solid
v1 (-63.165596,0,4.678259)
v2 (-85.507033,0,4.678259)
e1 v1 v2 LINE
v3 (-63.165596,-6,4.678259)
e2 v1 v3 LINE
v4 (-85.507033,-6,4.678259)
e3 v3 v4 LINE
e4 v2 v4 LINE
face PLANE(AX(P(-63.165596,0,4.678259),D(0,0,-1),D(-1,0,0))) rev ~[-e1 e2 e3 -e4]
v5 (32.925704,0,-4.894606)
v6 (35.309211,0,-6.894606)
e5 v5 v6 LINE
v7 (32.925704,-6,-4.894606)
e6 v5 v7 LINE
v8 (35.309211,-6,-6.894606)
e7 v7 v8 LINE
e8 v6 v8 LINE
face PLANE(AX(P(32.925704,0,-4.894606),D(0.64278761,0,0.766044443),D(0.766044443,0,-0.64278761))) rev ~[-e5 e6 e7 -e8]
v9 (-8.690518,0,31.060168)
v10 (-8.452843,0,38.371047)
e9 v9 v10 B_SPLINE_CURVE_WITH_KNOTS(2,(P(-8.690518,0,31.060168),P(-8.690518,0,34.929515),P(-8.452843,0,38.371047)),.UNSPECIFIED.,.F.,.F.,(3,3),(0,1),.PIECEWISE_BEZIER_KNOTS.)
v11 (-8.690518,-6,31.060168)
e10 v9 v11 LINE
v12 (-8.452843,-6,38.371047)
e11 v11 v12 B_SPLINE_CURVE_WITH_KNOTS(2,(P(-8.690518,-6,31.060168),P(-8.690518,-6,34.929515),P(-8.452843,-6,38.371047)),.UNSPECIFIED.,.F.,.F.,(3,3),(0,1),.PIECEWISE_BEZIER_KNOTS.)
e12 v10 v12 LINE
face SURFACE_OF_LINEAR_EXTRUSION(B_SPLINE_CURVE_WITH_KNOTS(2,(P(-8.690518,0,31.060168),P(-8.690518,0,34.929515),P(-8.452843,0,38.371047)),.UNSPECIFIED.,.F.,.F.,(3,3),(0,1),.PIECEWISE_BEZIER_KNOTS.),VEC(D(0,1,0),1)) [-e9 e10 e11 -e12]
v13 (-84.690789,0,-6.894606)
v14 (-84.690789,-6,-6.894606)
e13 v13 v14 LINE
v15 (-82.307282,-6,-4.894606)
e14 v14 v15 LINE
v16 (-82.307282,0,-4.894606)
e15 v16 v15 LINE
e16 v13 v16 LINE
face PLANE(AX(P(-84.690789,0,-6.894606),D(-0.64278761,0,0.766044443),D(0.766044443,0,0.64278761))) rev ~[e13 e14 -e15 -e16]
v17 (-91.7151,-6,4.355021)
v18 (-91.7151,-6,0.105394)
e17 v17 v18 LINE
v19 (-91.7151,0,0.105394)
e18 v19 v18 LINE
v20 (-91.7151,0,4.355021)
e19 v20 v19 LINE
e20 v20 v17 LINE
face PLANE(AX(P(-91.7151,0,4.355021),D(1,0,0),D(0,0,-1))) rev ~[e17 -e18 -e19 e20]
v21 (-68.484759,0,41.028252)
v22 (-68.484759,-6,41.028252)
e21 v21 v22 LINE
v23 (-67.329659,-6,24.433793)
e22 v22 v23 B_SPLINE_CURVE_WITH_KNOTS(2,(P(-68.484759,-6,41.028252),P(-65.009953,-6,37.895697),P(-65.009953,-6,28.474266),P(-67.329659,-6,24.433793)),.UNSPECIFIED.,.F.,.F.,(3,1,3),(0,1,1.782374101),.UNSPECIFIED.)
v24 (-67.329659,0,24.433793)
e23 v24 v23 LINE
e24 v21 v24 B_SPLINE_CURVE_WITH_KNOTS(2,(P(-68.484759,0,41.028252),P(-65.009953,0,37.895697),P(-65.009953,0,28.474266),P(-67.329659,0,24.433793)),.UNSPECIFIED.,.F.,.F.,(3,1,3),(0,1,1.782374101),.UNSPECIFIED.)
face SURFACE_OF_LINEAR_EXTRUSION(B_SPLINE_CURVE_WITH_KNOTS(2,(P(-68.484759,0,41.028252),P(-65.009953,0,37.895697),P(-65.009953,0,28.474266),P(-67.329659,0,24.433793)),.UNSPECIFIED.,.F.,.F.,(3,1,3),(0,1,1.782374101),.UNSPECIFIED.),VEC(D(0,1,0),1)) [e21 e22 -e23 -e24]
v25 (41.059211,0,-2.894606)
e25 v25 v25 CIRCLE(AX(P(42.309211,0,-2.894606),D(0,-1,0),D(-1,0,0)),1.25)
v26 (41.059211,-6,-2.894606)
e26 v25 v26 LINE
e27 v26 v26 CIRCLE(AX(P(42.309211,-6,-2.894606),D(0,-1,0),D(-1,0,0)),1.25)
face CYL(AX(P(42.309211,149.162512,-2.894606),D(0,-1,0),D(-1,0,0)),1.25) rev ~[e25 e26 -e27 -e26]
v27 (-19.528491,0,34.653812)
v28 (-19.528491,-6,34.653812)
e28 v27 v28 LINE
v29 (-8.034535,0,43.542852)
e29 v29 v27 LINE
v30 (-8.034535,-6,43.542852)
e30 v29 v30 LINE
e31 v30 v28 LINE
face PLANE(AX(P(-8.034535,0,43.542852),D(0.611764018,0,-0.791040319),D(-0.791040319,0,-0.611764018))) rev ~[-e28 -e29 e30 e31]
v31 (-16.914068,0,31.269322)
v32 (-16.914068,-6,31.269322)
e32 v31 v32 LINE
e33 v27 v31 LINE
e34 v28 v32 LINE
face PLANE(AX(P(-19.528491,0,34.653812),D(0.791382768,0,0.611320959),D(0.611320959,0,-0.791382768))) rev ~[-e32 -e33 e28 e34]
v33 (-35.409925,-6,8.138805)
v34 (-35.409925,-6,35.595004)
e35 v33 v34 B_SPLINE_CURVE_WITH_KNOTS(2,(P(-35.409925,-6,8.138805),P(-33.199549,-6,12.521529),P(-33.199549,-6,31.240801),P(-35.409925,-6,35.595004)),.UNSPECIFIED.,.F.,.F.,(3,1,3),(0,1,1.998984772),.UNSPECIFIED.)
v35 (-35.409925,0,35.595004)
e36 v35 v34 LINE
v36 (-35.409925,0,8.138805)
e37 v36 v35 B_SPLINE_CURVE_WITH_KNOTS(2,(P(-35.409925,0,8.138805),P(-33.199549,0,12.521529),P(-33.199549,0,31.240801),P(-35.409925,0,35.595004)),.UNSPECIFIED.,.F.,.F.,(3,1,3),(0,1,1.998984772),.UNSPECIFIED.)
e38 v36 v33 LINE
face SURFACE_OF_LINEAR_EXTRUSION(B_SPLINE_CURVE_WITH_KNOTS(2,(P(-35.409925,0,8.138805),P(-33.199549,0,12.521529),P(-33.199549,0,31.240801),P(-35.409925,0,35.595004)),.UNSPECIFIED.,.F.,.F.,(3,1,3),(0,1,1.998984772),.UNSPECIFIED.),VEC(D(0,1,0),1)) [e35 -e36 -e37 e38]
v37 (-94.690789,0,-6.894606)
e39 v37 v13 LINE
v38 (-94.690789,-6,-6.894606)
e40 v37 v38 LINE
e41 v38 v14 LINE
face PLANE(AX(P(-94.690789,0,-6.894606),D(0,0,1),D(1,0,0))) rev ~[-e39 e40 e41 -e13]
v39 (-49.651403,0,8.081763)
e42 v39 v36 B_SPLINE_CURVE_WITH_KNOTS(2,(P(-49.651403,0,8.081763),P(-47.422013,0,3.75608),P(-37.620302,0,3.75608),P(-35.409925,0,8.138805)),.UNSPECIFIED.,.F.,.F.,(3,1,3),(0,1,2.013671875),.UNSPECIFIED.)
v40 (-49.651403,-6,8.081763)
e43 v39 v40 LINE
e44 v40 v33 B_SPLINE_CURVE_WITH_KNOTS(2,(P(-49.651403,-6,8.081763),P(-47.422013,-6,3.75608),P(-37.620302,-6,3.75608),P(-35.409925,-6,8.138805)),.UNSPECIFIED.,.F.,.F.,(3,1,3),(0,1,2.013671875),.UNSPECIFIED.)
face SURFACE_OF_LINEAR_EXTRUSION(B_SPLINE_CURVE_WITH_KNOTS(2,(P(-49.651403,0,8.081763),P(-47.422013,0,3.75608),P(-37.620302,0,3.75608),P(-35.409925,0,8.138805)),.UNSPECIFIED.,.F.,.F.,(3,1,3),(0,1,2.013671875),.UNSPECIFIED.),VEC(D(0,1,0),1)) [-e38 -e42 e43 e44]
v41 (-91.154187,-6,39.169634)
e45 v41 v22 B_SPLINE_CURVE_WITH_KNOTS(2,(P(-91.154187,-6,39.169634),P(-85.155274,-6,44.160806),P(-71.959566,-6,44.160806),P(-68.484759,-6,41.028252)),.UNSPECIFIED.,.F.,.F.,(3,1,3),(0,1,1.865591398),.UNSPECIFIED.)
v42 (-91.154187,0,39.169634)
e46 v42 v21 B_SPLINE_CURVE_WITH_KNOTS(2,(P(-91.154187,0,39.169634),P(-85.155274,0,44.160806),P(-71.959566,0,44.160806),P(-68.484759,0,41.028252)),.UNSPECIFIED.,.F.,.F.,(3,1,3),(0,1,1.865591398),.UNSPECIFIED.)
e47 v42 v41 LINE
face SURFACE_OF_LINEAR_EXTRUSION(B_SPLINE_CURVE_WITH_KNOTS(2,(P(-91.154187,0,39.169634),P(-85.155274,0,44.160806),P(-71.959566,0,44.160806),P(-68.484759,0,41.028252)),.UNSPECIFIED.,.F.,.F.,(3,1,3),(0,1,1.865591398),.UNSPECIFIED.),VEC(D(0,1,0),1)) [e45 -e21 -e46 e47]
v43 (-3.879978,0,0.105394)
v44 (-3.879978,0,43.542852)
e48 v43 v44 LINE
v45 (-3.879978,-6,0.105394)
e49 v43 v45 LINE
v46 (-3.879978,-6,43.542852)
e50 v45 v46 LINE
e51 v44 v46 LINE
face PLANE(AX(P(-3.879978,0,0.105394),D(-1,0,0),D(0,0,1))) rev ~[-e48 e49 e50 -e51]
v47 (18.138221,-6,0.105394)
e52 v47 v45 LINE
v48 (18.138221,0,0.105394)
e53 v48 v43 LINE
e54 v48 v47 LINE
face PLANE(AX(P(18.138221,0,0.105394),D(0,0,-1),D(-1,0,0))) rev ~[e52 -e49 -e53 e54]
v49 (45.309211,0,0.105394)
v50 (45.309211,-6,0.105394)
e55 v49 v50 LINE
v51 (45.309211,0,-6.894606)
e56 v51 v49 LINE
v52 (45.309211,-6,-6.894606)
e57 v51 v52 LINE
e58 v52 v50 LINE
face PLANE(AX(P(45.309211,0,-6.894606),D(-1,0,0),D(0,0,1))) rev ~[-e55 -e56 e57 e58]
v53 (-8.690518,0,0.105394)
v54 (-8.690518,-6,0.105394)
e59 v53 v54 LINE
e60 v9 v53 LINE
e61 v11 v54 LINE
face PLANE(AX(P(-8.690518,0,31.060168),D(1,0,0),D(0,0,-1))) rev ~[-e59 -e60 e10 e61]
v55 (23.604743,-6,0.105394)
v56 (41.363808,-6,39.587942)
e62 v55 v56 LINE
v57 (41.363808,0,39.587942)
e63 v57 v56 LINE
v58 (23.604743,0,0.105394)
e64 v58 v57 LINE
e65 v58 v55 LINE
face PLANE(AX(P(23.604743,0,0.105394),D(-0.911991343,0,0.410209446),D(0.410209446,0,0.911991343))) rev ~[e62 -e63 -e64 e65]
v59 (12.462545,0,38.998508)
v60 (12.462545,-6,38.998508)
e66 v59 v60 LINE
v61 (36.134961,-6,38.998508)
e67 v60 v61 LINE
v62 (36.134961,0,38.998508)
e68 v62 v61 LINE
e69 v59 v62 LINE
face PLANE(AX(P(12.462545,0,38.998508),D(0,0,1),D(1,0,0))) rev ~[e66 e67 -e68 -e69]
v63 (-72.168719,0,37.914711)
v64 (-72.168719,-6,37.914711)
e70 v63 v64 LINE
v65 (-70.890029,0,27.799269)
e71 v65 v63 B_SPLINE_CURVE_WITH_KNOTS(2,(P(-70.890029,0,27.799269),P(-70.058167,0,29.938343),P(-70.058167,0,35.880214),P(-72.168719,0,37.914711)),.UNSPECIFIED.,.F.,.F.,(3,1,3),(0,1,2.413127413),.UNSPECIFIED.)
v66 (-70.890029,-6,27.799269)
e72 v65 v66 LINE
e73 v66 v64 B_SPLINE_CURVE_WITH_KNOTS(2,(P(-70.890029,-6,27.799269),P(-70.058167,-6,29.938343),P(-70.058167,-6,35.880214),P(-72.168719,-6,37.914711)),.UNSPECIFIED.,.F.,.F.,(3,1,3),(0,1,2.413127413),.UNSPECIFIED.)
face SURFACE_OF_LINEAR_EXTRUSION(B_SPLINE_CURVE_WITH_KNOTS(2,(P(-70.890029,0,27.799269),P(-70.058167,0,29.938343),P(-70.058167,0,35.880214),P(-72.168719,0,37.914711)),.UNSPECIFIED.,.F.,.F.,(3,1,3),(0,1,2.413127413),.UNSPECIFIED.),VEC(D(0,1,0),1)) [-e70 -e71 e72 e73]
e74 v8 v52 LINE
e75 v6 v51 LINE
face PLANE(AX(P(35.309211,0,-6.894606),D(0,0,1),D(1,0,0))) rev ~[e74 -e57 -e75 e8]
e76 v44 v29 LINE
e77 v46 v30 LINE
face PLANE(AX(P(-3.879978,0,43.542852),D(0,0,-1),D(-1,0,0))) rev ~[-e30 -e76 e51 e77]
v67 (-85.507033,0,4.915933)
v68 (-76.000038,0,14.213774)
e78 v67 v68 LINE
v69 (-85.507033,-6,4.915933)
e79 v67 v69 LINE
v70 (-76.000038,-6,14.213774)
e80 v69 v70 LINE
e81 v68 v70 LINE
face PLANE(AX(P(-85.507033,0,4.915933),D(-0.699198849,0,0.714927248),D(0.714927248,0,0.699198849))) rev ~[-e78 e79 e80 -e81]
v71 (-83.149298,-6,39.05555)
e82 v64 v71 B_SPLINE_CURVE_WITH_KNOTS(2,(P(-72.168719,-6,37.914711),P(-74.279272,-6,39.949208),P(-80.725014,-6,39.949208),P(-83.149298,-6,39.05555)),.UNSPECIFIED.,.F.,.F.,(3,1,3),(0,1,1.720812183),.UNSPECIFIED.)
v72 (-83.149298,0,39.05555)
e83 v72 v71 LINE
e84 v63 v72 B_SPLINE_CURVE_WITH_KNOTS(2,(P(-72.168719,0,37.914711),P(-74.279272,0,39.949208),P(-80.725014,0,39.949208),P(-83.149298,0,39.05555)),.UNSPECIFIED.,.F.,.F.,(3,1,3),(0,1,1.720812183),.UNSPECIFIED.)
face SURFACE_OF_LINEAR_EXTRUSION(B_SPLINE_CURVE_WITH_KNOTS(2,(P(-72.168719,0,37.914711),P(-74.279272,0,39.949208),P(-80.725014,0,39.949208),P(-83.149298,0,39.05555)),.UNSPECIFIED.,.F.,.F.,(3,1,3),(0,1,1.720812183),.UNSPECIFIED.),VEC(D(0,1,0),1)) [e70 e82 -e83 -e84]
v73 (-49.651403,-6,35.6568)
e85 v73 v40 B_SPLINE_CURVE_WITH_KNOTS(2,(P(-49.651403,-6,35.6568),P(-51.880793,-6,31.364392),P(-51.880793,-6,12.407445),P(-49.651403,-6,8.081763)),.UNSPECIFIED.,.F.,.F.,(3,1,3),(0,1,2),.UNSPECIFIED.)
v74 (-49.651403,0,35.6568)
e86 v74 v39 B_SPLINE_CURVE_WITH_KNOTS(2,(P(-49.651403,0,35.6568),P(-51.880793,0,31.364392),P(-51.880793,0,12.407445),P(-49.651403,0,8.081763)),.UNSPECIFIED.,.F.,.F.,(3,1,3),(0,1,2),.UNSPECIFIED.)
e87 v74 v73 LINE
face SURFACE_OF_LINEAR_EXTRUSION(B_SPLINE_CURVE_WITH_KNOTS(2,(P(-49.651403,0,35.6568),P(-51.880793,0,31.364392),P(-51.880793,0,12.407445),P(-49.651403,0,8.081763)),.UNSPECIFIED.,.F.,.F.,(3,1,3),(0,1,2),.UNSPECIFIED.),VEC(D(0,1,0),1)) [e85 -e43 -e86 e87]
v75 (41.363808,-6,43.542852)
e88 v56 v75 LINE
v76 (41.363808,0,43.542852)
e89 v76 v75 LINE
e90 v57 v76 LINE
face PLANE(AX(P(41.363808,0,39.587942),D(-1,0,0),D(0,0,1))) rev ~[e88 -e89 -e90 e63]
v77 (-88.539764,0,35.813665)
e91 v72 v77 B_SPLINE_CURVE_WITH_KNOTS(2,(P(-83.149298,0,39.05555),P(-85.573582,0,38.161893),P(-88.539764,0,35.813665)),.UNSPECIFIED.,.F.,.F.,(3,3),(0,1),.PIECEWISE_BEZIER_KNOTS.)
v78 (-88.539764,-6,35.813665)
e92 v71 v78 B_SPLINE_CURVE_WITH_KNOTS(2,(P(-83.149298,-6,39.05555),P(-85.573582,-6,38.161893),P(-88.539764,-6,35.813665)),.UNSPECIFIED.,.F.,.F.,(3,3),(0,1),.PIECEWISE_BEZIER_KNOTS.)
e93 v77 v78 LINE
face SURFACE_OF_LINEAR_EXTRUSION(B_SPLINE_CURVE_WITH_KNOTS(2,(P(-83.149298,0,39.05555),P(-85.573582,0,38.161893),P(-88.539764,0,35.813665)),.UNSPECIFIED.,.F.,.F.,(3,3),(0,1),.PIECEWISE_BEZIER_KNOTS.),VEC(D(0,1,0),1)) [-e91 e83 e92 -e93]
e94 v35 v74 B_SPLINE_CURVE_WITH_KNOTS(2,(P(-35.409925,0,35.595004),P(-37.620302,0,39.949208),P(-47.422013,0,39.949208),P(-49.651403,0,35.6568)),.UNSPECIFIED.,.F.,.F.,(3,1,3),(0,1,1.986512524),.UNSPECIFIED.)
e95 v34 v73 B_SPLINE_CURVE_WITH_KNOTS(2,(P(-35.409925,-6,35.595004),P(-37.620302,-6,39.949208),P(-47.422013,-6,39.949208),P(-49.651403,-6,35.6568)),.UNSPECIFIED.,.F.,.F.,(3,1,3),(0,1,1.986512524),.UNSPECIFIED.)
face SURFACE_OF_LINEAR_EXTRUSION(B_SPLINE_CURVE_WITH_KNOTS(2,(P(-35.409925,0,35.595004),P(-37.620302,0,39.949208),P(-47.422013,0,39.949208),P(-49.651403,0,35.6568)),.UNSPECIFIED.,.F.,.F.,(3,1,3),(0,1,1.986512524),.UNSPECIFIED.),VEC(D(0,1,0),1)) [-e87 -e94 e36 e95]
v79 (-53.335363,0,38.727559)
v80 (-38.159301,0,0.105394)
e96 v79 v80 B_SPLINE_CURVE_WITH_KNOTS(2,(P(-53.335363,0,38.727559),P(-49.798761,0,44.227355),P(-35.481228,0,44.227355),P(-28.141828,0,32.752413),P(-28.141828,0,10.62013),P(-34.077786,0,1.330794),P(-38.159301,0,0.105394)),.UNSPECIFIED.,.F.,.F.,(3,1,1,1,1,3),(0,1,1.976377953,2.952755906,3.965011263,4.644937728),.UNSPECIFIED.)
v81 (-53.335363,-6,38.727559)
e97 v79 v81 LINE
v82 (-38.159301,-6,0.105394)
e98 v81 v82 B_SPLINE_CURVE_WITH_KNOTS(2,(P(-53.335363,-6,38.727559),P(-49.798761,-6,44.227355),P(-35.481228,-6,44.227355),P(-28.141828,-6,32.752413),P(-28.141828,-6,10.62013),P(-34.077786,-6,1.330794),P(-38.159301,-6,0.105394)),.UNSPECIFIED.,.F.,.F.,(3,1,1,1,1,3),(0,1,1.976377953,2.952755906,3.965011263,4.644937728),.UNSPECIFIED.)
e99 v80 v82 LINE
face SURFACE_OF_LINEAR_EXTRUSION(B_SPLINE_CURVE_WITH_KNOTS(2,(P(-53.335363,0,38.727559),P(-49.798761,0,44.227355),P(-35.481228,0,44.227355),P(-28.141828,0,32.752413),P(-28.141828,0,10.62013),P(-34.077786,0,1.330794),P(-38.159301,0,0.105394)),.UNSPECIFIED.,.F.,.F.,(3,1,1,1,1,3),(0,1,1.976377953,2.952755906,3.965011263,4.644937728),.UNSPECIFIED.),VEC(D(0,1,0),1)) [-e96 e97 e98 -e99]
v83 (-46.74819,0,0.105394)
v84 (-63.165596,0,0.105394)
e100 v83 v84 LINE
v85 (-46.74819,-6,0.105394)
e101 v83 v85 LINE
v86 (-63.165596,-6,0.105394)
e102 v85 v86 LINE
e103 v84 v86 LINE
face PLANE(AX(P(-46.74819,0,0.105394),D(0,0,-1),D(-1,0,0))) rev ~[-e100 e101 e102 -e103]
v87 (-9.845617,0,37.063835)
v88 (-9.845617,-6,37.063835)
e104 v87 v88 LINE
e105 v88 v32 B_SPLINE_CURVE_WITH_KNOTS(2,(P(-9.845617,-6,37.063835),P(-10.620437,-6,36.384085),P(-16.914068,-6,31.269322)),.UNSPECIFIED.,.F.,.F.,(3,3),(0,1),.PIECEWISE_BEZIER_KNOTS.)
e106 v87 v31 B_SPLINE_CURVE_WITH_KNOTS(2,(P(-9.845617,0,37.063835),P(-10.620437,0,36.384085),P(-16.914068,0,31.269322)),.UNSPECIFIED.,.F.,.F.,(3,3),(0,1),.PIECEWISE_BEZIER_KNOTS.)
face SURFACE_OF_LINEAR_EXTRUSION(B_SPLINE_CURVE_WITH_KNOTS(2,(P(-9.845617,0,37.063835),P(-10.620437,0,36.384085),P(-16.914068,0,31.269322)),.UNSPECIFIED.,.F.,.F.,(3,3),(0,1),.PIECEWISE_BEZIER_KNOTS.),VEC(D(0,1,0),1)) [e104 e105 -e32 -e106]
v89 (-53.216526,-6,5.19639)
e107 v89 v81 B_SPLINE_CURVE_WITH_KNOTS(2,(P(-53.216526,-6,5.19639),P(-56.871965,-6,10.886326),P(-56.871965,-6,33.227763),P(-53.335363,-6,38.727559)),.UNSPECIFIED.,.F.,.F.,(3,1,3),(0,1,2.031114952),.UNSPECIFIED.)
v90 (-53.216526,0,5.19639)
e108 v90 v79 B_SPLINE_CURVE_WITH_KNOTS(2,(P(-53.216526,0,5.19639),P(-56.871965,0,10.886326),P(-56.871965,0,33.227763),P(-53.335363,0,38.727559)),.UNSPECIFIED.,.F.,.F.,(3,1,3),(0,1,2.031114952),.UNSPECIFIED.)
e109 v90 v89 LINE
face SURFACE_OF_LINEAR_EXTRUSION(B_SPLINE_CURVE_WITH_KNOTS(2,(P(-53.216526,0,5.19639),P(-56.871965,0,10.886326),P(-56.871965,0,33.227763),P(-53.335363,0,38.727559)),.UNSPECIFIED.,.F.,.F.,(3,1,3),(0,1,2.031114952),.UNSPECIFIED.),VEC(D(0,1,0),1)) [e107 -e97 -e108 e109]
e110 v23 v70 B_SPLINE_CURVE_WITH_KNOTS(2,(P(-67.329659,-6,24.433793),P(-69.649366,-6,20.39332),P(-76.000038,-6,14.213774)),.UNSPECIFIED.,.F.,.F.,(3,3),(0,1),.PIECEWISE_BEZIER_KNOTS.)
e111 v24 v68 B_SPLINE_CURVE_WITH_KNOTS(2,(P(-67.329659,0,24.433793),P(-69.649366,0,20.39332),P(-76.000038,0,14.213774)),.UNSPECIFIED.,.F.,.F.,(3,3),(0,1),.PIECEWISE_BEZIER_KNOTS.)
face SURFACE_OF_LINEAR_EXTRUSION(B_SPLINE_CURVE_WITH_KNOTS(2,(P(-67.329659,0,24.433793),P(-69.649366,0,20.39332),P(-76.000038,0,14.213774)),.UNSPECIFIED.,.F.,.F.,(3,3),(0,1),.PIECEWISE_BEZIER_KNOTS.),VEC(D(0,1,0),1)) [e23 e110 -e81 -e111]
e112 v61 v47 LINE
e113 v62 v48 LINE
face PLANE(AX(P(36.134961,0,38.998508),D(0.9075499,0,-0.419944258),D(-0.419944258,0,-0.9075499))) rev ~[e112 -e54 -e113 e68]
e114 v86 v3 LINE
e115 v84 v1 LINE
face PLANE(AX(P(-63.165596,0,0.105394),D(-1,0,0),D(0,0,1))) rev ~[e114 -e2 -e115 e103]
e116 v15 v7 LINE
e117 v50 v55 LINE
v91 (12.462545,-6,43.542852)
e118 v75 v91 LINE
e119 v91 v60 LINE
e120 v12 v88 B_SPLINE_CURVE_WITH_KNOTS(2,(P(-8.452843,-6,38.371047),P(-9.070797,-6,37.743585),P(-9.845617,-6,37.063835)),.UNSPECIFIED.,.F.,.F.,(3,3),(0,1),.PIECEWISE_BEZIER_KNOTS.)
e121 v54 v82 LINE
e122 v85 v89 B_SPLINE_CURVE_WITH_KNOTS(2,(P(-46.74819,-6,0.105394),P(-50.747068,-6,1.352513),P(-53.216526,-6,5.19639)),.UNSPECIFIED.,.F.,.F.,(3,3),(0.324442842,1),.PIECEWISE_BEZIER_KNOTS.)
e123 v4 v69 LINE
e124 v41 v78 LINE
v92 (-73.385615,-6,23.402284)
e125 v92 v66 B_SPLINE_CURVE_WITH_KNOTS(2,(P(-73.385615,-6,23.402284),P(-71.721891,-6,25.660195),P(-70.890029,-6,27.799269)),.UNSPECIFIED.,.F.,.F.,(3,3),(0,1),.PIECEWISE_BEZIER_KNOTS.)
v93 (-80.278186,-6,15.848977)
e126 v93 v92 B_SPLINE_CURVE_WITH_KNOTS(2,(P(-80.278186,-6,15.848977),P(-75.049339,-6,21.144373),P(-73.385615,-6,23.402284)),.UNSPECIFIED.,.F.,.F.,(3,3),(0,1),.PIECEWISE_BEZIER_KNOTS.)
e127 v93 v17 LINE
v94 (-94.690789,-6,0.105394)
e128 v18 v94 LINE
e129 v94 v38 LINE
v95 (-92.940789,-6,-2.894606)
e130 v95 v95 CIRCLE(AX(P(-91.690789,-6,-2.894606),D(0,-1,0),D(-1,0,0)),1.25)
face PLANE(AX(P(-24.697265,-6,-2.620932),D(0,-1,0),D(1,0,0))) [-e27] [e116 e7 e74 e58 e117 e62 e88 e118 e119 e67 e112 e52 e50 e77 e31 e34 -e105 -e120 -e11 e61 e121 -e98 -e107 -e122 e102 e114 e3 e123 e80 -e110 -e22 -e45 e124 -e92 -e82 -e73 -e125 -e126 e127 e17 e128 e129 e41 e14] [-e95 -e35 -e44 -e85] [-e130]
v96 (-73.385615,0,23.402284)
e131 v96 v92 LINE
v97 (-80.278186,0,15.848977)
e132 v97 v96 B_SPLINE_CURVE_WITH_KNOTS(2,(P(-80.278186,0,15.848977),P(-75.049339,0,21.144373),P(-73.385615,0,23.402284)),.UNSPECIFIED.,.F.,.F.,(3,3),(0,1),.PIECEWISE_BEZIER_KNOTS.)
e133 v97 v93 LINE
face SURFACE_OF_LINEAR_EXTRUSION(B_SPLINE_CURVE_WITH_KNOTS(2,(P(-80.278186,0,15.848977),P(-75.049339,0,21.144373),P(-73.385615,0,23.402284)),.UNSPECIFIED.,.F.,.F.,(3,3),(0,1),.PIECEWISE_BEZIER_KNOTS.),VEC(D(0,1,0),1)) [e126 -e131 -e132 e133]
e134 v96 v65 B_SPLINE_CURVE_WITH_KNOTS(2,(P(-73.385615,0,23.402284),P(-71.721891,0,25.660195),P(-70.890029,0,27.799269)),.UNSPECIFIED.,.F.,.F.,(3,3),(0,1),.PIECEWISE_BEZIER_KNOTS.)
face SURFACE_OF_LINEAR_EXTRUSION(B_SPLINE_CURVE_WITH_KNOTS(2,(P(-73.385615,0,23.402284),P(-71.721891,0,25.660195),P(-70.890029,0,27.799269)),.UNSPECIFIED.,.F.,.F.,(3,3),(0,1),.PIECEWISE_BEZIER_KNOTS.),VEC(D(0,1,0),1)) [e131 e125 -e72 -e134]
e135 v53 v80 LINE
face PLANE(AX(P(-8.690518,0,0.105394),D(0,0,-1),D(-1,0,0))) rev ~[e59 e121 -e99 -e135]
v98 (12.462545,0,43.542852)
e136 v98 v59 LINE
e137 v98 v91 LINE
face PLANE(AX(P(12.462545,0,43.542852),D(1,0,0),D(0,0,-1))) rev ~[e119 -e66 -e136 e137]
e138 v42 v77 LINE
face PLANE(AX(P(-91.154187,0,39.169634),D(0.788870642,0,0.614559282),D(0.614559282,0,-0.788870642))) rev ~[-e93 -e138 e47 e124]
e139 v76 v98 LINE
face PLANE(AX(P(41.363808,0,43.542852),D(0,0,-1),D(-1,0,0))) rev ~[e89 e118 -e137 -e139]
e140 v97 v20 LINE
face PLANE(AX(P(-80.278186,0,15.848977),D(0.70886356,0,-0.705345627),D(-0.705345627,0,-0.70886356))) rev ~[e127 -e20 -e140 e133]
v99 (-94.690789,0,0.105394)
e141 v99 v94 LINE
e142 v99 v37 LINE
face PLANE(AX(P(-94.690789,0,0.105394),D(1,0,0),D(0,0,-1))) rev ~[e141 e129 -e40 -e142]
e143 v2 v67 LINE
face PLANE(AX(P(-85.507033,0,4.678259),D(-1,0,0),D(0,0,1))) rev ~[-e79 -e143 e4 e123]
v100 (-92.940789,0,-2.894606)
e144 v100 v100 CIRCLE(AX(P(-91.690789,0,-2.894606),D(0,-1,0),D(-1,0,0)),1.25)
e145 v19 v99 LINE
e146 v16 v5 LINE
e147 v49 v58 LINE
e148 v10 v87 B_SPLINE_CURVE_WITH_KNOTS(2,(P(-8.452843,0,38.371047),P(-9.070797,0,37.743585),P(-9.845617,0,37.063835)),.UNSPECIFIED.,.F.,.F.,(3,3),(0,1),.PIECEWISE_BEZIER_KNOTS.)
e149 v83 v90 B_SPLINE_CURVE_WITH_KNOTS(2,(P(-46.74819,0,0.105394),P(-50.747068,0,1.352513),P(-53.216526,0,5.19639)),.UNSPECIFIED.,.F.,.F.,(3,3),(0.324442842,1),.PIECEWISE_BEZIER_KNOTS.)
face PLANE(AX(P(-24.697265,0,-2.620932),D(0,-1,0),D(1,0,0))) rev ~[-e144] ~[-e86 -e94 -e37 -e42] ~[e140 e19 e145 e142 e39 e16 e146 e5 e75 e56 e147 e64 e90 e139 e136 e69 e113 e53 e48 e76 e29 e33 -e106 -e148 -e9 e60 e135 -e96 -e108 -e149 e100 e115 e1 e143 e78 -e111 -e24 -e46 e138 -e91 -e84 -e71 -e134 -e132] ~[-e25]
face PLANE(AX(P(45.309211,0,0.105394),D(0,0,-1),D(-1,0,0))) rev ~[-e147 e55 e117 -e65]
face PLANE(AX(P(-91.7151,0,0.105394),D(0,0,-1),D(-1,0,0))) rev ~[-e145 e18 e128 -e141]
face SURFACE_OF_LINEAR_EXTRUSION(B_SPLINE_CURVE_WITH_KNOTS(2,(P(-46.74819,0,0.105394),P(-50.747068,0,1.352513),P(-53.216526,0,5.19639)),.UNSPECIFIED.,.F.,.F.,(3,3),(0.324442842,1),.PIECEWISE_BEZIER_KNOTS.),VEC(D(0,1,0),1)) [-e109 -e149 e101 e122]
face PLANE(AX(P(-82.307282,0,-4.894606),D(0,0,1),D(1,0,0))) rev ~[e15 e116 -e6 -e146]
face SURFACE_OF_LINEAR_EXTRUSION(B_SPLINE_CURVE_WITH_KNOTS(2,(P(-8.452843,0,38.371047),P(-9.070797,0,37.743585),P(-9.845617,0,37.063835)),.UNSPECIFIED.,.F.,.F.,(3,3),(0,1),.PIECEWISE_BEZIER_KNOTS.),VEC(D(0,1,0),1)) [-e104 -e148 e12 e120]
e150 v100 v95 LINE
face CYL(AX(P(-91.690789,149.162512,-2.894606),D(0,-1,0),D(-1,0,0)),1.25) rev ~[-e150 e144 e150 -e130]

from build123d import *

# Parameters (mm, degrees)
F1_DEPTH = 6
F2_D     = 2.5


with BuildPart() as f1:
    # F0 (on Front) → F1 (new body)
    with BuildSketch(Plane.XZ):
        with BuildLine():
            Line((-91.7150999423, 0.1053942247), (-94.6907891994, 0.1053942247))
            Line((-94.6907891994, 0.1053942247), (-94.6907891994, -6.8946057753))
            Line((-94.6907891994, -6.8946057753), (-84.6907891994, -6.8946057753))
            Line((-84.6907891994, -6.8946057753), (-82.3072820142, -4.8946057753))
            Line((-82.3072820142, -4.8946057753), (32.9257036154, -4.8946057753))
            Line((32.9257036154, -4.8946057753), (35.3092108006, -6.8946057753))
            Line((35.3092108006, -6.8946057753), (45.3092108006, -6.8946057753))
            Line((45.3092108006, -6.8946057753), (45.3092108006, 0.1053942247))
            Line((45.3092108006, 0.1053942247), (23.6047425132, 0.1053942247))
            Line((23.6047425132, 0.1053942247), (18.138220715, 0.1053942247))
            Line((18.138220715, 0.1053942247), (-3.8799783886, 0.1053942247))
            Line((-3.8799783886, 0.1053942247), (-8.690517571, 0.1053942247))
            Line((-8.690517571, 0.1053942247), (-38.1593011314, 0.1053942247))
            add(Edge.make_bspline(
                [(-38.1593011314, 0.1053942247), (-40.154230825, -0.4935464245), (-42.5544317364, -0.4935464245)],
                knots=[0.6716946069, 0.6716946069, 0.6716946069, 1, 1, 1], degree=2))
            add(Edge.make_bspline(
                [(-42.5544317364, -0.4935464245), (-44.8276907657, -0.4935464245), (-46.7481902647, 0.1053942247)],
                knots=[0, 0, 0, 0.3244428423, 0.3244428423, 0.3244428423], degree=2))
            Line((-46.7481902647, 0.1053942247), (-63.1655956642, 0.1053942247))
            Line((-63.1655956642, 0.1053942247), (-91.7150999423, 0.1053942247))
        make_face()
        with BuildLine():
            add(Edge.make_bspline(
                [(-46.7481902647, 0.1053942247), (-50.7470677679, 1.3525126379), (-53.2165259915, 5.1963897429)],
                knots=[0.3244428423, 0.3244428423, 0.3244428423, 1, 1, 1], degree=2))
            Line((-46.7481902647, 0.1053942247), (-38.1593011314, 0.1053942247))
            add(Edge.make_bspline(
                [(-31.6926905983, 5.0632918208), (-34.0777857358, 1.33079354), (-38.1593011314, 0.1053942247)],
                knots=[0, 0, 0, 0.6716946069, 0.6716946069, 0.6716946069], degree=2))
            add(Edge.make_bspline(
                [(-28.1418281781, 21.8859184676), (-28.1418281781, 10.6201300661), (-31.6926905983, 5.0632918208)],
                knots=[0, 0, 0, 1, 1, 1], degree=2))
            add(Edge.make_bspline(
                [(-31.8115280287, 38.4898842424), (-28.1418281781, 32.7524131029), (-28.1418281781, 21.8859184676)],
                knots=[0, 0, 0, 1, 1, 1], degree=2))
            add(Edge.make_bspline(
                [(-42.5544317364, 44.2273553819), (-35.4812278793, 44.2273553819), (-31.8115280287, 38.4898842424)],
                knots=[0, 0, 0, 1, 1, 1], degree=2))
            add(Edge.make_bspline(
                [(-53.3353634219, 38.7275591032), (-49.7987614933, 44.2273553819), (-42.5544317364, 44.2273553819)],
                knots=[0, 0, 0, 1, 1, 1], degree=2))
            add(Edge.make_bspline(
                [(-56.8719653504, 21.8859184676), (-56.8719653504, 33.2277628245), (-53.3353634219, 38.7275591032)],
                knots=[0, 0, 0, 1, 1, 1], degree=2))
            add(Edge.make_bspline(
                [(-53.2165259915, 5.1963897429), (-56.8719653504, 10.8863259102), (-56.8719653504, 21.8859184676)],
                knots=[0, 0, 0, 1, 1, 1], degree=2))
        make_face()
        with BuildLine():
            add(Edge.make_bspline(
                [(-51.8807932738, 21.8859184676), (-51.8807932738, 12.4074450192), (-49.6514030796, 8.0817625529)],
                knots=[0, 0, 0, 1, 1, 1], degree=2))
            add(Edge.make_bspline(
                [(-49.6514030796, 35.6567999018), (-51.8807932738, 31.3643919159), (-51.8807932738, 21.8859184676)],
                knots=[0, 0, 0, 1, 1, 1], degree=2))
            add(Edge.make_bspline(
                [(-42.5544317364, 39.9492078876), (-47.4220128854, 39.9492078876), (-49.6514030796, 35.6567999018)],
                knots=[0, 0, 0, 1, 1, 1], degree=2))
            add(Edge.make_bspline(
                [(-35.4099254211, 35.595004438), (-37.6203016264, 39.9492078876), (-42.5544317364, 39.9492078876)],
                knots=[0, 0, 0, 1, 1, 1], degree=2))
            add(Edge.make_bspline(
                [(-33.1995492157, 21.8859184676), (-33.1995492157, 31.2408009883), (-35.4099254211, 35.595004438)],
                knots=[0, 0, 0, 1, 1, 1], degree=2))
            add(Edge.make_bspline(
                [(-35.4099254211, 8.1388045194), (-33.1995492157, 12.5215289524), (-33.1995492157, 21.8859184676)],
                knots=[0, 0, 0, 1, 1, 1], degree=2))
            add(Edge.make_bspline(
                [(-42.5544317364, 3.7560800865), (-37.6203016264, 3.7560800865), (-35.4099254211, 8.1388045194)],
                knots=[0, 0, 0, 1, 1, 1], degree=2))
            add(Edge.make_bspline(
                [(-49.6514030796, 8.0817625529), (-47.4220128854, 3.7560800865), (-42.5544317364, 3.7560800865)],
                knots=[0, 0, 0, 1, 1, 1], degree=2))
        make_face(mode=Mode.SUBTRACT)
        with BuildLine():
            Line((-91.7150999423, 4.3550207357), (-91.7150999423, 0.1053942247))
            Line((-91.7150999423, 0.1053942247), (-63.1655956642, 0.1053942247))
            Line((-63.1655956642, 0.1053942247), (-63.1655956642, 4.6782585463))
            Line((-63.1655956642, 4.6782585463), (-85.5070325785, 4.6782585463))
            Line((-85.5070325785, 4.6782585463), (-85.5070325785, 4.9159334071))
            Line((-85.5070325785, 4.9159334071), (-76.0000381468, 14.2137739612))
            add(Edge.make_bspline(
                [(-67.3296592252, 24.4337929752), (-69.6493658665, 20.3933203418), (-76.0000381468, 14.2137739612)],
                knots=[0, 0, 0, 1, 1, 1], degree=2))
            add(Edge.make_bspline(
                [(-65.0099525839, 32.6098081864), (-65.0099525839, 28.4742656087), (-67.3296592252, 24.4337929752)],
                knots=[0, 0, 0, 1, 1, 1], degree=2))
            add(Edge.make_bspline(
                [(-68.4847590487, 41.0282517556), (-65.0099525839, 37.8956970904), (-65.0099525839, 32.6098081864)],
                knots=[0, 0, 0, 1, 1, 1], degree=2))
            add(Edge.make_bspline(
                [(-78.0820699274, 44.1608064208), (-71.9595655134, 44.1608064208), (-68.4847590487, 41.0282517556)],
                knots=[0, 0, 0, 1, 1, 1], degree=2))
            add(Edge.make_bspline(
                [(-91.1541872708, 39.1696343442), (-85.1552737845, 44.1608064208), (-78.0820699274, 44.1608064208)],
                knots=[0, 0, 0, 1, 1, 1], degree=2))
            Line((-91.1541872708, 39.1696343442), (-88.5397638022, 35.8136653099))
            add(Edge.make_bspline(
                [(-83.1492979594, 39.0555504111), (-85.5735815395, 38.1618929345), (-88.5397638022, 35.8136653099)],
                knots=[0, 0, 0, 1, 1, 1], degree=2))
            add(Edge.make_bspline(
                [(-78.0250279608, 39.9492078876), (-80.7250143794, 39.9492078876), (-83.1492979594, 39.0555504111)],
                knots=[0, 0, 0, 1, 1, 1], degree=2))
            add(Edge.make_bspline(
                [(-72.1687193909, 37.9147110793), (-74.2792721547, 39.9492078876), (-78.0250279608, 39.9492078876)],
                knots=[0, 0, 0, 1, 1, 1], degree=2))
            add(Edge.make_bspline(
                [(-70.0581666271, 32.4006543089), (-70.0581666271, 35.8802142709), (-72.1687193909, 37.9147110793)],
                knots=[0, 0, 0, 1, 1, 1], degree=2))
            add(Edge.make_bspline(
                [(-70.8900286399, 27.799269004), (-70.0581666271, 29.9383427511), (-70.0581666271, 32.4006543089)],
                knots=[0, 0, 0, 1, 1, 1], degree=2))
            add(Edge.make_bspline(
                [(-73.3856146782, 23.4022840794), (-71.7218906526, 25.6601952569), (-70.8900286399, 27.799269004)],
                knots=[0, 0, 0, 1, 1, 1], degree=2))
            add(Edge.make_bspline(
                [(-80.2781856411, 15.8489770035), (-75.0493387037, 21.1443729019), (-73.3856146782, 23.4022840794)],
                knots=[0, 0, 0, 1, 1, 1], degree=2))
            Line((-80.2781856411, 15.8489770035), (-91.7150999423, 4.3550207357))
        make_face()
        with BuildLine():
            Line((-8.690517571, 31.0601680941), (-8.690517571, 0.1053942247))
            Line((-8.690517571, 0.1053942247), (-3.8799783886, 0.1053942247))
            Line((-3.8799783886, 0.1053942247), (-3.8799783886, 43.5428517828))
            Line((-3.8799783886, 43.5428517828), (-8.0345349552, 43.5428517828))
            Line((-8.0345349552, 43.5428517828), (-19.528491223, 34.6538119892))
            Line((-19.528491223, 34.6538119892), (-16.9140677543, 31.2693219716))
            add(Edge.make_bspline(
                [(-9.8456173944, 37.0638350776), (-10.6204374406, 36.3840849758), (-16.9140677543, 31.2693219716)],
                knots=[0, 0, 0, 1, 1, 1], degree=2))
            add(Edge.make_bspline(
                [(-8.4528427102, 38.371046812), (-9.0707973483, 37.7435851795), (-9.8456173944, 37.0638350776)],
                knots=[0, 0, 0, 1, 1, 1], degree=2))
            add(Edge.make_bspline(
                [(-8.690517571, 31.0601680941), (-8.690517571, 34.9295148277), (-8.4528427102, 38.371046812)],
                knots=[0, 0, 0, 1, 1, 1], degree=2))
        make_face()
        Polygon((36.1349611741, 38.9985084445), (18.138220715, 0.1053942247), (23.6047425132, 0.1053942247), (41.3638081115, 39.5879420992), (41.3638081115, 43.5428517828), (12.4625450394, 43.5428517828), (12.4625450394, 38.9985084445), align=None)
        with BuildLine():
            Line((-38.1593011314, 0.1053942247), (-46.7481902647, 0.1053942247))
            add(Edge.make_bspline(
                [(-42.5544317364, -0.4935464245), (-44.8276907657, -0.4935464245), (-46.7481902647, 0.1053942247)],
                knots=[0, 0, 0, 0.3244428423, 0.3244428423, 0.3244428423], degree=2))
            add(Edge.make_bspline(
                [(-38.1593011314, 0.1053942247), (-40.154230825, -0.4935464245), (-42.5544317364, -0.4935464245)],
                knots=[0.6716946069, 0.6716946069, 0.6716946069, 1, 1, 1], degree=2))
        make_face()
    extrude(amount=F1_DEPTH)

    # F2 (through all)
    with Locations(Plane(origin=(0, 0, 0), x_dir=(1, 0, 0), z_dir=(0, 1, 0))):
        with Locations((-91.6907891994, 2.8946057753), (42.3092108006, 2.8946057753)):
            Hole(F2_D / 2)


solid = f1.part
